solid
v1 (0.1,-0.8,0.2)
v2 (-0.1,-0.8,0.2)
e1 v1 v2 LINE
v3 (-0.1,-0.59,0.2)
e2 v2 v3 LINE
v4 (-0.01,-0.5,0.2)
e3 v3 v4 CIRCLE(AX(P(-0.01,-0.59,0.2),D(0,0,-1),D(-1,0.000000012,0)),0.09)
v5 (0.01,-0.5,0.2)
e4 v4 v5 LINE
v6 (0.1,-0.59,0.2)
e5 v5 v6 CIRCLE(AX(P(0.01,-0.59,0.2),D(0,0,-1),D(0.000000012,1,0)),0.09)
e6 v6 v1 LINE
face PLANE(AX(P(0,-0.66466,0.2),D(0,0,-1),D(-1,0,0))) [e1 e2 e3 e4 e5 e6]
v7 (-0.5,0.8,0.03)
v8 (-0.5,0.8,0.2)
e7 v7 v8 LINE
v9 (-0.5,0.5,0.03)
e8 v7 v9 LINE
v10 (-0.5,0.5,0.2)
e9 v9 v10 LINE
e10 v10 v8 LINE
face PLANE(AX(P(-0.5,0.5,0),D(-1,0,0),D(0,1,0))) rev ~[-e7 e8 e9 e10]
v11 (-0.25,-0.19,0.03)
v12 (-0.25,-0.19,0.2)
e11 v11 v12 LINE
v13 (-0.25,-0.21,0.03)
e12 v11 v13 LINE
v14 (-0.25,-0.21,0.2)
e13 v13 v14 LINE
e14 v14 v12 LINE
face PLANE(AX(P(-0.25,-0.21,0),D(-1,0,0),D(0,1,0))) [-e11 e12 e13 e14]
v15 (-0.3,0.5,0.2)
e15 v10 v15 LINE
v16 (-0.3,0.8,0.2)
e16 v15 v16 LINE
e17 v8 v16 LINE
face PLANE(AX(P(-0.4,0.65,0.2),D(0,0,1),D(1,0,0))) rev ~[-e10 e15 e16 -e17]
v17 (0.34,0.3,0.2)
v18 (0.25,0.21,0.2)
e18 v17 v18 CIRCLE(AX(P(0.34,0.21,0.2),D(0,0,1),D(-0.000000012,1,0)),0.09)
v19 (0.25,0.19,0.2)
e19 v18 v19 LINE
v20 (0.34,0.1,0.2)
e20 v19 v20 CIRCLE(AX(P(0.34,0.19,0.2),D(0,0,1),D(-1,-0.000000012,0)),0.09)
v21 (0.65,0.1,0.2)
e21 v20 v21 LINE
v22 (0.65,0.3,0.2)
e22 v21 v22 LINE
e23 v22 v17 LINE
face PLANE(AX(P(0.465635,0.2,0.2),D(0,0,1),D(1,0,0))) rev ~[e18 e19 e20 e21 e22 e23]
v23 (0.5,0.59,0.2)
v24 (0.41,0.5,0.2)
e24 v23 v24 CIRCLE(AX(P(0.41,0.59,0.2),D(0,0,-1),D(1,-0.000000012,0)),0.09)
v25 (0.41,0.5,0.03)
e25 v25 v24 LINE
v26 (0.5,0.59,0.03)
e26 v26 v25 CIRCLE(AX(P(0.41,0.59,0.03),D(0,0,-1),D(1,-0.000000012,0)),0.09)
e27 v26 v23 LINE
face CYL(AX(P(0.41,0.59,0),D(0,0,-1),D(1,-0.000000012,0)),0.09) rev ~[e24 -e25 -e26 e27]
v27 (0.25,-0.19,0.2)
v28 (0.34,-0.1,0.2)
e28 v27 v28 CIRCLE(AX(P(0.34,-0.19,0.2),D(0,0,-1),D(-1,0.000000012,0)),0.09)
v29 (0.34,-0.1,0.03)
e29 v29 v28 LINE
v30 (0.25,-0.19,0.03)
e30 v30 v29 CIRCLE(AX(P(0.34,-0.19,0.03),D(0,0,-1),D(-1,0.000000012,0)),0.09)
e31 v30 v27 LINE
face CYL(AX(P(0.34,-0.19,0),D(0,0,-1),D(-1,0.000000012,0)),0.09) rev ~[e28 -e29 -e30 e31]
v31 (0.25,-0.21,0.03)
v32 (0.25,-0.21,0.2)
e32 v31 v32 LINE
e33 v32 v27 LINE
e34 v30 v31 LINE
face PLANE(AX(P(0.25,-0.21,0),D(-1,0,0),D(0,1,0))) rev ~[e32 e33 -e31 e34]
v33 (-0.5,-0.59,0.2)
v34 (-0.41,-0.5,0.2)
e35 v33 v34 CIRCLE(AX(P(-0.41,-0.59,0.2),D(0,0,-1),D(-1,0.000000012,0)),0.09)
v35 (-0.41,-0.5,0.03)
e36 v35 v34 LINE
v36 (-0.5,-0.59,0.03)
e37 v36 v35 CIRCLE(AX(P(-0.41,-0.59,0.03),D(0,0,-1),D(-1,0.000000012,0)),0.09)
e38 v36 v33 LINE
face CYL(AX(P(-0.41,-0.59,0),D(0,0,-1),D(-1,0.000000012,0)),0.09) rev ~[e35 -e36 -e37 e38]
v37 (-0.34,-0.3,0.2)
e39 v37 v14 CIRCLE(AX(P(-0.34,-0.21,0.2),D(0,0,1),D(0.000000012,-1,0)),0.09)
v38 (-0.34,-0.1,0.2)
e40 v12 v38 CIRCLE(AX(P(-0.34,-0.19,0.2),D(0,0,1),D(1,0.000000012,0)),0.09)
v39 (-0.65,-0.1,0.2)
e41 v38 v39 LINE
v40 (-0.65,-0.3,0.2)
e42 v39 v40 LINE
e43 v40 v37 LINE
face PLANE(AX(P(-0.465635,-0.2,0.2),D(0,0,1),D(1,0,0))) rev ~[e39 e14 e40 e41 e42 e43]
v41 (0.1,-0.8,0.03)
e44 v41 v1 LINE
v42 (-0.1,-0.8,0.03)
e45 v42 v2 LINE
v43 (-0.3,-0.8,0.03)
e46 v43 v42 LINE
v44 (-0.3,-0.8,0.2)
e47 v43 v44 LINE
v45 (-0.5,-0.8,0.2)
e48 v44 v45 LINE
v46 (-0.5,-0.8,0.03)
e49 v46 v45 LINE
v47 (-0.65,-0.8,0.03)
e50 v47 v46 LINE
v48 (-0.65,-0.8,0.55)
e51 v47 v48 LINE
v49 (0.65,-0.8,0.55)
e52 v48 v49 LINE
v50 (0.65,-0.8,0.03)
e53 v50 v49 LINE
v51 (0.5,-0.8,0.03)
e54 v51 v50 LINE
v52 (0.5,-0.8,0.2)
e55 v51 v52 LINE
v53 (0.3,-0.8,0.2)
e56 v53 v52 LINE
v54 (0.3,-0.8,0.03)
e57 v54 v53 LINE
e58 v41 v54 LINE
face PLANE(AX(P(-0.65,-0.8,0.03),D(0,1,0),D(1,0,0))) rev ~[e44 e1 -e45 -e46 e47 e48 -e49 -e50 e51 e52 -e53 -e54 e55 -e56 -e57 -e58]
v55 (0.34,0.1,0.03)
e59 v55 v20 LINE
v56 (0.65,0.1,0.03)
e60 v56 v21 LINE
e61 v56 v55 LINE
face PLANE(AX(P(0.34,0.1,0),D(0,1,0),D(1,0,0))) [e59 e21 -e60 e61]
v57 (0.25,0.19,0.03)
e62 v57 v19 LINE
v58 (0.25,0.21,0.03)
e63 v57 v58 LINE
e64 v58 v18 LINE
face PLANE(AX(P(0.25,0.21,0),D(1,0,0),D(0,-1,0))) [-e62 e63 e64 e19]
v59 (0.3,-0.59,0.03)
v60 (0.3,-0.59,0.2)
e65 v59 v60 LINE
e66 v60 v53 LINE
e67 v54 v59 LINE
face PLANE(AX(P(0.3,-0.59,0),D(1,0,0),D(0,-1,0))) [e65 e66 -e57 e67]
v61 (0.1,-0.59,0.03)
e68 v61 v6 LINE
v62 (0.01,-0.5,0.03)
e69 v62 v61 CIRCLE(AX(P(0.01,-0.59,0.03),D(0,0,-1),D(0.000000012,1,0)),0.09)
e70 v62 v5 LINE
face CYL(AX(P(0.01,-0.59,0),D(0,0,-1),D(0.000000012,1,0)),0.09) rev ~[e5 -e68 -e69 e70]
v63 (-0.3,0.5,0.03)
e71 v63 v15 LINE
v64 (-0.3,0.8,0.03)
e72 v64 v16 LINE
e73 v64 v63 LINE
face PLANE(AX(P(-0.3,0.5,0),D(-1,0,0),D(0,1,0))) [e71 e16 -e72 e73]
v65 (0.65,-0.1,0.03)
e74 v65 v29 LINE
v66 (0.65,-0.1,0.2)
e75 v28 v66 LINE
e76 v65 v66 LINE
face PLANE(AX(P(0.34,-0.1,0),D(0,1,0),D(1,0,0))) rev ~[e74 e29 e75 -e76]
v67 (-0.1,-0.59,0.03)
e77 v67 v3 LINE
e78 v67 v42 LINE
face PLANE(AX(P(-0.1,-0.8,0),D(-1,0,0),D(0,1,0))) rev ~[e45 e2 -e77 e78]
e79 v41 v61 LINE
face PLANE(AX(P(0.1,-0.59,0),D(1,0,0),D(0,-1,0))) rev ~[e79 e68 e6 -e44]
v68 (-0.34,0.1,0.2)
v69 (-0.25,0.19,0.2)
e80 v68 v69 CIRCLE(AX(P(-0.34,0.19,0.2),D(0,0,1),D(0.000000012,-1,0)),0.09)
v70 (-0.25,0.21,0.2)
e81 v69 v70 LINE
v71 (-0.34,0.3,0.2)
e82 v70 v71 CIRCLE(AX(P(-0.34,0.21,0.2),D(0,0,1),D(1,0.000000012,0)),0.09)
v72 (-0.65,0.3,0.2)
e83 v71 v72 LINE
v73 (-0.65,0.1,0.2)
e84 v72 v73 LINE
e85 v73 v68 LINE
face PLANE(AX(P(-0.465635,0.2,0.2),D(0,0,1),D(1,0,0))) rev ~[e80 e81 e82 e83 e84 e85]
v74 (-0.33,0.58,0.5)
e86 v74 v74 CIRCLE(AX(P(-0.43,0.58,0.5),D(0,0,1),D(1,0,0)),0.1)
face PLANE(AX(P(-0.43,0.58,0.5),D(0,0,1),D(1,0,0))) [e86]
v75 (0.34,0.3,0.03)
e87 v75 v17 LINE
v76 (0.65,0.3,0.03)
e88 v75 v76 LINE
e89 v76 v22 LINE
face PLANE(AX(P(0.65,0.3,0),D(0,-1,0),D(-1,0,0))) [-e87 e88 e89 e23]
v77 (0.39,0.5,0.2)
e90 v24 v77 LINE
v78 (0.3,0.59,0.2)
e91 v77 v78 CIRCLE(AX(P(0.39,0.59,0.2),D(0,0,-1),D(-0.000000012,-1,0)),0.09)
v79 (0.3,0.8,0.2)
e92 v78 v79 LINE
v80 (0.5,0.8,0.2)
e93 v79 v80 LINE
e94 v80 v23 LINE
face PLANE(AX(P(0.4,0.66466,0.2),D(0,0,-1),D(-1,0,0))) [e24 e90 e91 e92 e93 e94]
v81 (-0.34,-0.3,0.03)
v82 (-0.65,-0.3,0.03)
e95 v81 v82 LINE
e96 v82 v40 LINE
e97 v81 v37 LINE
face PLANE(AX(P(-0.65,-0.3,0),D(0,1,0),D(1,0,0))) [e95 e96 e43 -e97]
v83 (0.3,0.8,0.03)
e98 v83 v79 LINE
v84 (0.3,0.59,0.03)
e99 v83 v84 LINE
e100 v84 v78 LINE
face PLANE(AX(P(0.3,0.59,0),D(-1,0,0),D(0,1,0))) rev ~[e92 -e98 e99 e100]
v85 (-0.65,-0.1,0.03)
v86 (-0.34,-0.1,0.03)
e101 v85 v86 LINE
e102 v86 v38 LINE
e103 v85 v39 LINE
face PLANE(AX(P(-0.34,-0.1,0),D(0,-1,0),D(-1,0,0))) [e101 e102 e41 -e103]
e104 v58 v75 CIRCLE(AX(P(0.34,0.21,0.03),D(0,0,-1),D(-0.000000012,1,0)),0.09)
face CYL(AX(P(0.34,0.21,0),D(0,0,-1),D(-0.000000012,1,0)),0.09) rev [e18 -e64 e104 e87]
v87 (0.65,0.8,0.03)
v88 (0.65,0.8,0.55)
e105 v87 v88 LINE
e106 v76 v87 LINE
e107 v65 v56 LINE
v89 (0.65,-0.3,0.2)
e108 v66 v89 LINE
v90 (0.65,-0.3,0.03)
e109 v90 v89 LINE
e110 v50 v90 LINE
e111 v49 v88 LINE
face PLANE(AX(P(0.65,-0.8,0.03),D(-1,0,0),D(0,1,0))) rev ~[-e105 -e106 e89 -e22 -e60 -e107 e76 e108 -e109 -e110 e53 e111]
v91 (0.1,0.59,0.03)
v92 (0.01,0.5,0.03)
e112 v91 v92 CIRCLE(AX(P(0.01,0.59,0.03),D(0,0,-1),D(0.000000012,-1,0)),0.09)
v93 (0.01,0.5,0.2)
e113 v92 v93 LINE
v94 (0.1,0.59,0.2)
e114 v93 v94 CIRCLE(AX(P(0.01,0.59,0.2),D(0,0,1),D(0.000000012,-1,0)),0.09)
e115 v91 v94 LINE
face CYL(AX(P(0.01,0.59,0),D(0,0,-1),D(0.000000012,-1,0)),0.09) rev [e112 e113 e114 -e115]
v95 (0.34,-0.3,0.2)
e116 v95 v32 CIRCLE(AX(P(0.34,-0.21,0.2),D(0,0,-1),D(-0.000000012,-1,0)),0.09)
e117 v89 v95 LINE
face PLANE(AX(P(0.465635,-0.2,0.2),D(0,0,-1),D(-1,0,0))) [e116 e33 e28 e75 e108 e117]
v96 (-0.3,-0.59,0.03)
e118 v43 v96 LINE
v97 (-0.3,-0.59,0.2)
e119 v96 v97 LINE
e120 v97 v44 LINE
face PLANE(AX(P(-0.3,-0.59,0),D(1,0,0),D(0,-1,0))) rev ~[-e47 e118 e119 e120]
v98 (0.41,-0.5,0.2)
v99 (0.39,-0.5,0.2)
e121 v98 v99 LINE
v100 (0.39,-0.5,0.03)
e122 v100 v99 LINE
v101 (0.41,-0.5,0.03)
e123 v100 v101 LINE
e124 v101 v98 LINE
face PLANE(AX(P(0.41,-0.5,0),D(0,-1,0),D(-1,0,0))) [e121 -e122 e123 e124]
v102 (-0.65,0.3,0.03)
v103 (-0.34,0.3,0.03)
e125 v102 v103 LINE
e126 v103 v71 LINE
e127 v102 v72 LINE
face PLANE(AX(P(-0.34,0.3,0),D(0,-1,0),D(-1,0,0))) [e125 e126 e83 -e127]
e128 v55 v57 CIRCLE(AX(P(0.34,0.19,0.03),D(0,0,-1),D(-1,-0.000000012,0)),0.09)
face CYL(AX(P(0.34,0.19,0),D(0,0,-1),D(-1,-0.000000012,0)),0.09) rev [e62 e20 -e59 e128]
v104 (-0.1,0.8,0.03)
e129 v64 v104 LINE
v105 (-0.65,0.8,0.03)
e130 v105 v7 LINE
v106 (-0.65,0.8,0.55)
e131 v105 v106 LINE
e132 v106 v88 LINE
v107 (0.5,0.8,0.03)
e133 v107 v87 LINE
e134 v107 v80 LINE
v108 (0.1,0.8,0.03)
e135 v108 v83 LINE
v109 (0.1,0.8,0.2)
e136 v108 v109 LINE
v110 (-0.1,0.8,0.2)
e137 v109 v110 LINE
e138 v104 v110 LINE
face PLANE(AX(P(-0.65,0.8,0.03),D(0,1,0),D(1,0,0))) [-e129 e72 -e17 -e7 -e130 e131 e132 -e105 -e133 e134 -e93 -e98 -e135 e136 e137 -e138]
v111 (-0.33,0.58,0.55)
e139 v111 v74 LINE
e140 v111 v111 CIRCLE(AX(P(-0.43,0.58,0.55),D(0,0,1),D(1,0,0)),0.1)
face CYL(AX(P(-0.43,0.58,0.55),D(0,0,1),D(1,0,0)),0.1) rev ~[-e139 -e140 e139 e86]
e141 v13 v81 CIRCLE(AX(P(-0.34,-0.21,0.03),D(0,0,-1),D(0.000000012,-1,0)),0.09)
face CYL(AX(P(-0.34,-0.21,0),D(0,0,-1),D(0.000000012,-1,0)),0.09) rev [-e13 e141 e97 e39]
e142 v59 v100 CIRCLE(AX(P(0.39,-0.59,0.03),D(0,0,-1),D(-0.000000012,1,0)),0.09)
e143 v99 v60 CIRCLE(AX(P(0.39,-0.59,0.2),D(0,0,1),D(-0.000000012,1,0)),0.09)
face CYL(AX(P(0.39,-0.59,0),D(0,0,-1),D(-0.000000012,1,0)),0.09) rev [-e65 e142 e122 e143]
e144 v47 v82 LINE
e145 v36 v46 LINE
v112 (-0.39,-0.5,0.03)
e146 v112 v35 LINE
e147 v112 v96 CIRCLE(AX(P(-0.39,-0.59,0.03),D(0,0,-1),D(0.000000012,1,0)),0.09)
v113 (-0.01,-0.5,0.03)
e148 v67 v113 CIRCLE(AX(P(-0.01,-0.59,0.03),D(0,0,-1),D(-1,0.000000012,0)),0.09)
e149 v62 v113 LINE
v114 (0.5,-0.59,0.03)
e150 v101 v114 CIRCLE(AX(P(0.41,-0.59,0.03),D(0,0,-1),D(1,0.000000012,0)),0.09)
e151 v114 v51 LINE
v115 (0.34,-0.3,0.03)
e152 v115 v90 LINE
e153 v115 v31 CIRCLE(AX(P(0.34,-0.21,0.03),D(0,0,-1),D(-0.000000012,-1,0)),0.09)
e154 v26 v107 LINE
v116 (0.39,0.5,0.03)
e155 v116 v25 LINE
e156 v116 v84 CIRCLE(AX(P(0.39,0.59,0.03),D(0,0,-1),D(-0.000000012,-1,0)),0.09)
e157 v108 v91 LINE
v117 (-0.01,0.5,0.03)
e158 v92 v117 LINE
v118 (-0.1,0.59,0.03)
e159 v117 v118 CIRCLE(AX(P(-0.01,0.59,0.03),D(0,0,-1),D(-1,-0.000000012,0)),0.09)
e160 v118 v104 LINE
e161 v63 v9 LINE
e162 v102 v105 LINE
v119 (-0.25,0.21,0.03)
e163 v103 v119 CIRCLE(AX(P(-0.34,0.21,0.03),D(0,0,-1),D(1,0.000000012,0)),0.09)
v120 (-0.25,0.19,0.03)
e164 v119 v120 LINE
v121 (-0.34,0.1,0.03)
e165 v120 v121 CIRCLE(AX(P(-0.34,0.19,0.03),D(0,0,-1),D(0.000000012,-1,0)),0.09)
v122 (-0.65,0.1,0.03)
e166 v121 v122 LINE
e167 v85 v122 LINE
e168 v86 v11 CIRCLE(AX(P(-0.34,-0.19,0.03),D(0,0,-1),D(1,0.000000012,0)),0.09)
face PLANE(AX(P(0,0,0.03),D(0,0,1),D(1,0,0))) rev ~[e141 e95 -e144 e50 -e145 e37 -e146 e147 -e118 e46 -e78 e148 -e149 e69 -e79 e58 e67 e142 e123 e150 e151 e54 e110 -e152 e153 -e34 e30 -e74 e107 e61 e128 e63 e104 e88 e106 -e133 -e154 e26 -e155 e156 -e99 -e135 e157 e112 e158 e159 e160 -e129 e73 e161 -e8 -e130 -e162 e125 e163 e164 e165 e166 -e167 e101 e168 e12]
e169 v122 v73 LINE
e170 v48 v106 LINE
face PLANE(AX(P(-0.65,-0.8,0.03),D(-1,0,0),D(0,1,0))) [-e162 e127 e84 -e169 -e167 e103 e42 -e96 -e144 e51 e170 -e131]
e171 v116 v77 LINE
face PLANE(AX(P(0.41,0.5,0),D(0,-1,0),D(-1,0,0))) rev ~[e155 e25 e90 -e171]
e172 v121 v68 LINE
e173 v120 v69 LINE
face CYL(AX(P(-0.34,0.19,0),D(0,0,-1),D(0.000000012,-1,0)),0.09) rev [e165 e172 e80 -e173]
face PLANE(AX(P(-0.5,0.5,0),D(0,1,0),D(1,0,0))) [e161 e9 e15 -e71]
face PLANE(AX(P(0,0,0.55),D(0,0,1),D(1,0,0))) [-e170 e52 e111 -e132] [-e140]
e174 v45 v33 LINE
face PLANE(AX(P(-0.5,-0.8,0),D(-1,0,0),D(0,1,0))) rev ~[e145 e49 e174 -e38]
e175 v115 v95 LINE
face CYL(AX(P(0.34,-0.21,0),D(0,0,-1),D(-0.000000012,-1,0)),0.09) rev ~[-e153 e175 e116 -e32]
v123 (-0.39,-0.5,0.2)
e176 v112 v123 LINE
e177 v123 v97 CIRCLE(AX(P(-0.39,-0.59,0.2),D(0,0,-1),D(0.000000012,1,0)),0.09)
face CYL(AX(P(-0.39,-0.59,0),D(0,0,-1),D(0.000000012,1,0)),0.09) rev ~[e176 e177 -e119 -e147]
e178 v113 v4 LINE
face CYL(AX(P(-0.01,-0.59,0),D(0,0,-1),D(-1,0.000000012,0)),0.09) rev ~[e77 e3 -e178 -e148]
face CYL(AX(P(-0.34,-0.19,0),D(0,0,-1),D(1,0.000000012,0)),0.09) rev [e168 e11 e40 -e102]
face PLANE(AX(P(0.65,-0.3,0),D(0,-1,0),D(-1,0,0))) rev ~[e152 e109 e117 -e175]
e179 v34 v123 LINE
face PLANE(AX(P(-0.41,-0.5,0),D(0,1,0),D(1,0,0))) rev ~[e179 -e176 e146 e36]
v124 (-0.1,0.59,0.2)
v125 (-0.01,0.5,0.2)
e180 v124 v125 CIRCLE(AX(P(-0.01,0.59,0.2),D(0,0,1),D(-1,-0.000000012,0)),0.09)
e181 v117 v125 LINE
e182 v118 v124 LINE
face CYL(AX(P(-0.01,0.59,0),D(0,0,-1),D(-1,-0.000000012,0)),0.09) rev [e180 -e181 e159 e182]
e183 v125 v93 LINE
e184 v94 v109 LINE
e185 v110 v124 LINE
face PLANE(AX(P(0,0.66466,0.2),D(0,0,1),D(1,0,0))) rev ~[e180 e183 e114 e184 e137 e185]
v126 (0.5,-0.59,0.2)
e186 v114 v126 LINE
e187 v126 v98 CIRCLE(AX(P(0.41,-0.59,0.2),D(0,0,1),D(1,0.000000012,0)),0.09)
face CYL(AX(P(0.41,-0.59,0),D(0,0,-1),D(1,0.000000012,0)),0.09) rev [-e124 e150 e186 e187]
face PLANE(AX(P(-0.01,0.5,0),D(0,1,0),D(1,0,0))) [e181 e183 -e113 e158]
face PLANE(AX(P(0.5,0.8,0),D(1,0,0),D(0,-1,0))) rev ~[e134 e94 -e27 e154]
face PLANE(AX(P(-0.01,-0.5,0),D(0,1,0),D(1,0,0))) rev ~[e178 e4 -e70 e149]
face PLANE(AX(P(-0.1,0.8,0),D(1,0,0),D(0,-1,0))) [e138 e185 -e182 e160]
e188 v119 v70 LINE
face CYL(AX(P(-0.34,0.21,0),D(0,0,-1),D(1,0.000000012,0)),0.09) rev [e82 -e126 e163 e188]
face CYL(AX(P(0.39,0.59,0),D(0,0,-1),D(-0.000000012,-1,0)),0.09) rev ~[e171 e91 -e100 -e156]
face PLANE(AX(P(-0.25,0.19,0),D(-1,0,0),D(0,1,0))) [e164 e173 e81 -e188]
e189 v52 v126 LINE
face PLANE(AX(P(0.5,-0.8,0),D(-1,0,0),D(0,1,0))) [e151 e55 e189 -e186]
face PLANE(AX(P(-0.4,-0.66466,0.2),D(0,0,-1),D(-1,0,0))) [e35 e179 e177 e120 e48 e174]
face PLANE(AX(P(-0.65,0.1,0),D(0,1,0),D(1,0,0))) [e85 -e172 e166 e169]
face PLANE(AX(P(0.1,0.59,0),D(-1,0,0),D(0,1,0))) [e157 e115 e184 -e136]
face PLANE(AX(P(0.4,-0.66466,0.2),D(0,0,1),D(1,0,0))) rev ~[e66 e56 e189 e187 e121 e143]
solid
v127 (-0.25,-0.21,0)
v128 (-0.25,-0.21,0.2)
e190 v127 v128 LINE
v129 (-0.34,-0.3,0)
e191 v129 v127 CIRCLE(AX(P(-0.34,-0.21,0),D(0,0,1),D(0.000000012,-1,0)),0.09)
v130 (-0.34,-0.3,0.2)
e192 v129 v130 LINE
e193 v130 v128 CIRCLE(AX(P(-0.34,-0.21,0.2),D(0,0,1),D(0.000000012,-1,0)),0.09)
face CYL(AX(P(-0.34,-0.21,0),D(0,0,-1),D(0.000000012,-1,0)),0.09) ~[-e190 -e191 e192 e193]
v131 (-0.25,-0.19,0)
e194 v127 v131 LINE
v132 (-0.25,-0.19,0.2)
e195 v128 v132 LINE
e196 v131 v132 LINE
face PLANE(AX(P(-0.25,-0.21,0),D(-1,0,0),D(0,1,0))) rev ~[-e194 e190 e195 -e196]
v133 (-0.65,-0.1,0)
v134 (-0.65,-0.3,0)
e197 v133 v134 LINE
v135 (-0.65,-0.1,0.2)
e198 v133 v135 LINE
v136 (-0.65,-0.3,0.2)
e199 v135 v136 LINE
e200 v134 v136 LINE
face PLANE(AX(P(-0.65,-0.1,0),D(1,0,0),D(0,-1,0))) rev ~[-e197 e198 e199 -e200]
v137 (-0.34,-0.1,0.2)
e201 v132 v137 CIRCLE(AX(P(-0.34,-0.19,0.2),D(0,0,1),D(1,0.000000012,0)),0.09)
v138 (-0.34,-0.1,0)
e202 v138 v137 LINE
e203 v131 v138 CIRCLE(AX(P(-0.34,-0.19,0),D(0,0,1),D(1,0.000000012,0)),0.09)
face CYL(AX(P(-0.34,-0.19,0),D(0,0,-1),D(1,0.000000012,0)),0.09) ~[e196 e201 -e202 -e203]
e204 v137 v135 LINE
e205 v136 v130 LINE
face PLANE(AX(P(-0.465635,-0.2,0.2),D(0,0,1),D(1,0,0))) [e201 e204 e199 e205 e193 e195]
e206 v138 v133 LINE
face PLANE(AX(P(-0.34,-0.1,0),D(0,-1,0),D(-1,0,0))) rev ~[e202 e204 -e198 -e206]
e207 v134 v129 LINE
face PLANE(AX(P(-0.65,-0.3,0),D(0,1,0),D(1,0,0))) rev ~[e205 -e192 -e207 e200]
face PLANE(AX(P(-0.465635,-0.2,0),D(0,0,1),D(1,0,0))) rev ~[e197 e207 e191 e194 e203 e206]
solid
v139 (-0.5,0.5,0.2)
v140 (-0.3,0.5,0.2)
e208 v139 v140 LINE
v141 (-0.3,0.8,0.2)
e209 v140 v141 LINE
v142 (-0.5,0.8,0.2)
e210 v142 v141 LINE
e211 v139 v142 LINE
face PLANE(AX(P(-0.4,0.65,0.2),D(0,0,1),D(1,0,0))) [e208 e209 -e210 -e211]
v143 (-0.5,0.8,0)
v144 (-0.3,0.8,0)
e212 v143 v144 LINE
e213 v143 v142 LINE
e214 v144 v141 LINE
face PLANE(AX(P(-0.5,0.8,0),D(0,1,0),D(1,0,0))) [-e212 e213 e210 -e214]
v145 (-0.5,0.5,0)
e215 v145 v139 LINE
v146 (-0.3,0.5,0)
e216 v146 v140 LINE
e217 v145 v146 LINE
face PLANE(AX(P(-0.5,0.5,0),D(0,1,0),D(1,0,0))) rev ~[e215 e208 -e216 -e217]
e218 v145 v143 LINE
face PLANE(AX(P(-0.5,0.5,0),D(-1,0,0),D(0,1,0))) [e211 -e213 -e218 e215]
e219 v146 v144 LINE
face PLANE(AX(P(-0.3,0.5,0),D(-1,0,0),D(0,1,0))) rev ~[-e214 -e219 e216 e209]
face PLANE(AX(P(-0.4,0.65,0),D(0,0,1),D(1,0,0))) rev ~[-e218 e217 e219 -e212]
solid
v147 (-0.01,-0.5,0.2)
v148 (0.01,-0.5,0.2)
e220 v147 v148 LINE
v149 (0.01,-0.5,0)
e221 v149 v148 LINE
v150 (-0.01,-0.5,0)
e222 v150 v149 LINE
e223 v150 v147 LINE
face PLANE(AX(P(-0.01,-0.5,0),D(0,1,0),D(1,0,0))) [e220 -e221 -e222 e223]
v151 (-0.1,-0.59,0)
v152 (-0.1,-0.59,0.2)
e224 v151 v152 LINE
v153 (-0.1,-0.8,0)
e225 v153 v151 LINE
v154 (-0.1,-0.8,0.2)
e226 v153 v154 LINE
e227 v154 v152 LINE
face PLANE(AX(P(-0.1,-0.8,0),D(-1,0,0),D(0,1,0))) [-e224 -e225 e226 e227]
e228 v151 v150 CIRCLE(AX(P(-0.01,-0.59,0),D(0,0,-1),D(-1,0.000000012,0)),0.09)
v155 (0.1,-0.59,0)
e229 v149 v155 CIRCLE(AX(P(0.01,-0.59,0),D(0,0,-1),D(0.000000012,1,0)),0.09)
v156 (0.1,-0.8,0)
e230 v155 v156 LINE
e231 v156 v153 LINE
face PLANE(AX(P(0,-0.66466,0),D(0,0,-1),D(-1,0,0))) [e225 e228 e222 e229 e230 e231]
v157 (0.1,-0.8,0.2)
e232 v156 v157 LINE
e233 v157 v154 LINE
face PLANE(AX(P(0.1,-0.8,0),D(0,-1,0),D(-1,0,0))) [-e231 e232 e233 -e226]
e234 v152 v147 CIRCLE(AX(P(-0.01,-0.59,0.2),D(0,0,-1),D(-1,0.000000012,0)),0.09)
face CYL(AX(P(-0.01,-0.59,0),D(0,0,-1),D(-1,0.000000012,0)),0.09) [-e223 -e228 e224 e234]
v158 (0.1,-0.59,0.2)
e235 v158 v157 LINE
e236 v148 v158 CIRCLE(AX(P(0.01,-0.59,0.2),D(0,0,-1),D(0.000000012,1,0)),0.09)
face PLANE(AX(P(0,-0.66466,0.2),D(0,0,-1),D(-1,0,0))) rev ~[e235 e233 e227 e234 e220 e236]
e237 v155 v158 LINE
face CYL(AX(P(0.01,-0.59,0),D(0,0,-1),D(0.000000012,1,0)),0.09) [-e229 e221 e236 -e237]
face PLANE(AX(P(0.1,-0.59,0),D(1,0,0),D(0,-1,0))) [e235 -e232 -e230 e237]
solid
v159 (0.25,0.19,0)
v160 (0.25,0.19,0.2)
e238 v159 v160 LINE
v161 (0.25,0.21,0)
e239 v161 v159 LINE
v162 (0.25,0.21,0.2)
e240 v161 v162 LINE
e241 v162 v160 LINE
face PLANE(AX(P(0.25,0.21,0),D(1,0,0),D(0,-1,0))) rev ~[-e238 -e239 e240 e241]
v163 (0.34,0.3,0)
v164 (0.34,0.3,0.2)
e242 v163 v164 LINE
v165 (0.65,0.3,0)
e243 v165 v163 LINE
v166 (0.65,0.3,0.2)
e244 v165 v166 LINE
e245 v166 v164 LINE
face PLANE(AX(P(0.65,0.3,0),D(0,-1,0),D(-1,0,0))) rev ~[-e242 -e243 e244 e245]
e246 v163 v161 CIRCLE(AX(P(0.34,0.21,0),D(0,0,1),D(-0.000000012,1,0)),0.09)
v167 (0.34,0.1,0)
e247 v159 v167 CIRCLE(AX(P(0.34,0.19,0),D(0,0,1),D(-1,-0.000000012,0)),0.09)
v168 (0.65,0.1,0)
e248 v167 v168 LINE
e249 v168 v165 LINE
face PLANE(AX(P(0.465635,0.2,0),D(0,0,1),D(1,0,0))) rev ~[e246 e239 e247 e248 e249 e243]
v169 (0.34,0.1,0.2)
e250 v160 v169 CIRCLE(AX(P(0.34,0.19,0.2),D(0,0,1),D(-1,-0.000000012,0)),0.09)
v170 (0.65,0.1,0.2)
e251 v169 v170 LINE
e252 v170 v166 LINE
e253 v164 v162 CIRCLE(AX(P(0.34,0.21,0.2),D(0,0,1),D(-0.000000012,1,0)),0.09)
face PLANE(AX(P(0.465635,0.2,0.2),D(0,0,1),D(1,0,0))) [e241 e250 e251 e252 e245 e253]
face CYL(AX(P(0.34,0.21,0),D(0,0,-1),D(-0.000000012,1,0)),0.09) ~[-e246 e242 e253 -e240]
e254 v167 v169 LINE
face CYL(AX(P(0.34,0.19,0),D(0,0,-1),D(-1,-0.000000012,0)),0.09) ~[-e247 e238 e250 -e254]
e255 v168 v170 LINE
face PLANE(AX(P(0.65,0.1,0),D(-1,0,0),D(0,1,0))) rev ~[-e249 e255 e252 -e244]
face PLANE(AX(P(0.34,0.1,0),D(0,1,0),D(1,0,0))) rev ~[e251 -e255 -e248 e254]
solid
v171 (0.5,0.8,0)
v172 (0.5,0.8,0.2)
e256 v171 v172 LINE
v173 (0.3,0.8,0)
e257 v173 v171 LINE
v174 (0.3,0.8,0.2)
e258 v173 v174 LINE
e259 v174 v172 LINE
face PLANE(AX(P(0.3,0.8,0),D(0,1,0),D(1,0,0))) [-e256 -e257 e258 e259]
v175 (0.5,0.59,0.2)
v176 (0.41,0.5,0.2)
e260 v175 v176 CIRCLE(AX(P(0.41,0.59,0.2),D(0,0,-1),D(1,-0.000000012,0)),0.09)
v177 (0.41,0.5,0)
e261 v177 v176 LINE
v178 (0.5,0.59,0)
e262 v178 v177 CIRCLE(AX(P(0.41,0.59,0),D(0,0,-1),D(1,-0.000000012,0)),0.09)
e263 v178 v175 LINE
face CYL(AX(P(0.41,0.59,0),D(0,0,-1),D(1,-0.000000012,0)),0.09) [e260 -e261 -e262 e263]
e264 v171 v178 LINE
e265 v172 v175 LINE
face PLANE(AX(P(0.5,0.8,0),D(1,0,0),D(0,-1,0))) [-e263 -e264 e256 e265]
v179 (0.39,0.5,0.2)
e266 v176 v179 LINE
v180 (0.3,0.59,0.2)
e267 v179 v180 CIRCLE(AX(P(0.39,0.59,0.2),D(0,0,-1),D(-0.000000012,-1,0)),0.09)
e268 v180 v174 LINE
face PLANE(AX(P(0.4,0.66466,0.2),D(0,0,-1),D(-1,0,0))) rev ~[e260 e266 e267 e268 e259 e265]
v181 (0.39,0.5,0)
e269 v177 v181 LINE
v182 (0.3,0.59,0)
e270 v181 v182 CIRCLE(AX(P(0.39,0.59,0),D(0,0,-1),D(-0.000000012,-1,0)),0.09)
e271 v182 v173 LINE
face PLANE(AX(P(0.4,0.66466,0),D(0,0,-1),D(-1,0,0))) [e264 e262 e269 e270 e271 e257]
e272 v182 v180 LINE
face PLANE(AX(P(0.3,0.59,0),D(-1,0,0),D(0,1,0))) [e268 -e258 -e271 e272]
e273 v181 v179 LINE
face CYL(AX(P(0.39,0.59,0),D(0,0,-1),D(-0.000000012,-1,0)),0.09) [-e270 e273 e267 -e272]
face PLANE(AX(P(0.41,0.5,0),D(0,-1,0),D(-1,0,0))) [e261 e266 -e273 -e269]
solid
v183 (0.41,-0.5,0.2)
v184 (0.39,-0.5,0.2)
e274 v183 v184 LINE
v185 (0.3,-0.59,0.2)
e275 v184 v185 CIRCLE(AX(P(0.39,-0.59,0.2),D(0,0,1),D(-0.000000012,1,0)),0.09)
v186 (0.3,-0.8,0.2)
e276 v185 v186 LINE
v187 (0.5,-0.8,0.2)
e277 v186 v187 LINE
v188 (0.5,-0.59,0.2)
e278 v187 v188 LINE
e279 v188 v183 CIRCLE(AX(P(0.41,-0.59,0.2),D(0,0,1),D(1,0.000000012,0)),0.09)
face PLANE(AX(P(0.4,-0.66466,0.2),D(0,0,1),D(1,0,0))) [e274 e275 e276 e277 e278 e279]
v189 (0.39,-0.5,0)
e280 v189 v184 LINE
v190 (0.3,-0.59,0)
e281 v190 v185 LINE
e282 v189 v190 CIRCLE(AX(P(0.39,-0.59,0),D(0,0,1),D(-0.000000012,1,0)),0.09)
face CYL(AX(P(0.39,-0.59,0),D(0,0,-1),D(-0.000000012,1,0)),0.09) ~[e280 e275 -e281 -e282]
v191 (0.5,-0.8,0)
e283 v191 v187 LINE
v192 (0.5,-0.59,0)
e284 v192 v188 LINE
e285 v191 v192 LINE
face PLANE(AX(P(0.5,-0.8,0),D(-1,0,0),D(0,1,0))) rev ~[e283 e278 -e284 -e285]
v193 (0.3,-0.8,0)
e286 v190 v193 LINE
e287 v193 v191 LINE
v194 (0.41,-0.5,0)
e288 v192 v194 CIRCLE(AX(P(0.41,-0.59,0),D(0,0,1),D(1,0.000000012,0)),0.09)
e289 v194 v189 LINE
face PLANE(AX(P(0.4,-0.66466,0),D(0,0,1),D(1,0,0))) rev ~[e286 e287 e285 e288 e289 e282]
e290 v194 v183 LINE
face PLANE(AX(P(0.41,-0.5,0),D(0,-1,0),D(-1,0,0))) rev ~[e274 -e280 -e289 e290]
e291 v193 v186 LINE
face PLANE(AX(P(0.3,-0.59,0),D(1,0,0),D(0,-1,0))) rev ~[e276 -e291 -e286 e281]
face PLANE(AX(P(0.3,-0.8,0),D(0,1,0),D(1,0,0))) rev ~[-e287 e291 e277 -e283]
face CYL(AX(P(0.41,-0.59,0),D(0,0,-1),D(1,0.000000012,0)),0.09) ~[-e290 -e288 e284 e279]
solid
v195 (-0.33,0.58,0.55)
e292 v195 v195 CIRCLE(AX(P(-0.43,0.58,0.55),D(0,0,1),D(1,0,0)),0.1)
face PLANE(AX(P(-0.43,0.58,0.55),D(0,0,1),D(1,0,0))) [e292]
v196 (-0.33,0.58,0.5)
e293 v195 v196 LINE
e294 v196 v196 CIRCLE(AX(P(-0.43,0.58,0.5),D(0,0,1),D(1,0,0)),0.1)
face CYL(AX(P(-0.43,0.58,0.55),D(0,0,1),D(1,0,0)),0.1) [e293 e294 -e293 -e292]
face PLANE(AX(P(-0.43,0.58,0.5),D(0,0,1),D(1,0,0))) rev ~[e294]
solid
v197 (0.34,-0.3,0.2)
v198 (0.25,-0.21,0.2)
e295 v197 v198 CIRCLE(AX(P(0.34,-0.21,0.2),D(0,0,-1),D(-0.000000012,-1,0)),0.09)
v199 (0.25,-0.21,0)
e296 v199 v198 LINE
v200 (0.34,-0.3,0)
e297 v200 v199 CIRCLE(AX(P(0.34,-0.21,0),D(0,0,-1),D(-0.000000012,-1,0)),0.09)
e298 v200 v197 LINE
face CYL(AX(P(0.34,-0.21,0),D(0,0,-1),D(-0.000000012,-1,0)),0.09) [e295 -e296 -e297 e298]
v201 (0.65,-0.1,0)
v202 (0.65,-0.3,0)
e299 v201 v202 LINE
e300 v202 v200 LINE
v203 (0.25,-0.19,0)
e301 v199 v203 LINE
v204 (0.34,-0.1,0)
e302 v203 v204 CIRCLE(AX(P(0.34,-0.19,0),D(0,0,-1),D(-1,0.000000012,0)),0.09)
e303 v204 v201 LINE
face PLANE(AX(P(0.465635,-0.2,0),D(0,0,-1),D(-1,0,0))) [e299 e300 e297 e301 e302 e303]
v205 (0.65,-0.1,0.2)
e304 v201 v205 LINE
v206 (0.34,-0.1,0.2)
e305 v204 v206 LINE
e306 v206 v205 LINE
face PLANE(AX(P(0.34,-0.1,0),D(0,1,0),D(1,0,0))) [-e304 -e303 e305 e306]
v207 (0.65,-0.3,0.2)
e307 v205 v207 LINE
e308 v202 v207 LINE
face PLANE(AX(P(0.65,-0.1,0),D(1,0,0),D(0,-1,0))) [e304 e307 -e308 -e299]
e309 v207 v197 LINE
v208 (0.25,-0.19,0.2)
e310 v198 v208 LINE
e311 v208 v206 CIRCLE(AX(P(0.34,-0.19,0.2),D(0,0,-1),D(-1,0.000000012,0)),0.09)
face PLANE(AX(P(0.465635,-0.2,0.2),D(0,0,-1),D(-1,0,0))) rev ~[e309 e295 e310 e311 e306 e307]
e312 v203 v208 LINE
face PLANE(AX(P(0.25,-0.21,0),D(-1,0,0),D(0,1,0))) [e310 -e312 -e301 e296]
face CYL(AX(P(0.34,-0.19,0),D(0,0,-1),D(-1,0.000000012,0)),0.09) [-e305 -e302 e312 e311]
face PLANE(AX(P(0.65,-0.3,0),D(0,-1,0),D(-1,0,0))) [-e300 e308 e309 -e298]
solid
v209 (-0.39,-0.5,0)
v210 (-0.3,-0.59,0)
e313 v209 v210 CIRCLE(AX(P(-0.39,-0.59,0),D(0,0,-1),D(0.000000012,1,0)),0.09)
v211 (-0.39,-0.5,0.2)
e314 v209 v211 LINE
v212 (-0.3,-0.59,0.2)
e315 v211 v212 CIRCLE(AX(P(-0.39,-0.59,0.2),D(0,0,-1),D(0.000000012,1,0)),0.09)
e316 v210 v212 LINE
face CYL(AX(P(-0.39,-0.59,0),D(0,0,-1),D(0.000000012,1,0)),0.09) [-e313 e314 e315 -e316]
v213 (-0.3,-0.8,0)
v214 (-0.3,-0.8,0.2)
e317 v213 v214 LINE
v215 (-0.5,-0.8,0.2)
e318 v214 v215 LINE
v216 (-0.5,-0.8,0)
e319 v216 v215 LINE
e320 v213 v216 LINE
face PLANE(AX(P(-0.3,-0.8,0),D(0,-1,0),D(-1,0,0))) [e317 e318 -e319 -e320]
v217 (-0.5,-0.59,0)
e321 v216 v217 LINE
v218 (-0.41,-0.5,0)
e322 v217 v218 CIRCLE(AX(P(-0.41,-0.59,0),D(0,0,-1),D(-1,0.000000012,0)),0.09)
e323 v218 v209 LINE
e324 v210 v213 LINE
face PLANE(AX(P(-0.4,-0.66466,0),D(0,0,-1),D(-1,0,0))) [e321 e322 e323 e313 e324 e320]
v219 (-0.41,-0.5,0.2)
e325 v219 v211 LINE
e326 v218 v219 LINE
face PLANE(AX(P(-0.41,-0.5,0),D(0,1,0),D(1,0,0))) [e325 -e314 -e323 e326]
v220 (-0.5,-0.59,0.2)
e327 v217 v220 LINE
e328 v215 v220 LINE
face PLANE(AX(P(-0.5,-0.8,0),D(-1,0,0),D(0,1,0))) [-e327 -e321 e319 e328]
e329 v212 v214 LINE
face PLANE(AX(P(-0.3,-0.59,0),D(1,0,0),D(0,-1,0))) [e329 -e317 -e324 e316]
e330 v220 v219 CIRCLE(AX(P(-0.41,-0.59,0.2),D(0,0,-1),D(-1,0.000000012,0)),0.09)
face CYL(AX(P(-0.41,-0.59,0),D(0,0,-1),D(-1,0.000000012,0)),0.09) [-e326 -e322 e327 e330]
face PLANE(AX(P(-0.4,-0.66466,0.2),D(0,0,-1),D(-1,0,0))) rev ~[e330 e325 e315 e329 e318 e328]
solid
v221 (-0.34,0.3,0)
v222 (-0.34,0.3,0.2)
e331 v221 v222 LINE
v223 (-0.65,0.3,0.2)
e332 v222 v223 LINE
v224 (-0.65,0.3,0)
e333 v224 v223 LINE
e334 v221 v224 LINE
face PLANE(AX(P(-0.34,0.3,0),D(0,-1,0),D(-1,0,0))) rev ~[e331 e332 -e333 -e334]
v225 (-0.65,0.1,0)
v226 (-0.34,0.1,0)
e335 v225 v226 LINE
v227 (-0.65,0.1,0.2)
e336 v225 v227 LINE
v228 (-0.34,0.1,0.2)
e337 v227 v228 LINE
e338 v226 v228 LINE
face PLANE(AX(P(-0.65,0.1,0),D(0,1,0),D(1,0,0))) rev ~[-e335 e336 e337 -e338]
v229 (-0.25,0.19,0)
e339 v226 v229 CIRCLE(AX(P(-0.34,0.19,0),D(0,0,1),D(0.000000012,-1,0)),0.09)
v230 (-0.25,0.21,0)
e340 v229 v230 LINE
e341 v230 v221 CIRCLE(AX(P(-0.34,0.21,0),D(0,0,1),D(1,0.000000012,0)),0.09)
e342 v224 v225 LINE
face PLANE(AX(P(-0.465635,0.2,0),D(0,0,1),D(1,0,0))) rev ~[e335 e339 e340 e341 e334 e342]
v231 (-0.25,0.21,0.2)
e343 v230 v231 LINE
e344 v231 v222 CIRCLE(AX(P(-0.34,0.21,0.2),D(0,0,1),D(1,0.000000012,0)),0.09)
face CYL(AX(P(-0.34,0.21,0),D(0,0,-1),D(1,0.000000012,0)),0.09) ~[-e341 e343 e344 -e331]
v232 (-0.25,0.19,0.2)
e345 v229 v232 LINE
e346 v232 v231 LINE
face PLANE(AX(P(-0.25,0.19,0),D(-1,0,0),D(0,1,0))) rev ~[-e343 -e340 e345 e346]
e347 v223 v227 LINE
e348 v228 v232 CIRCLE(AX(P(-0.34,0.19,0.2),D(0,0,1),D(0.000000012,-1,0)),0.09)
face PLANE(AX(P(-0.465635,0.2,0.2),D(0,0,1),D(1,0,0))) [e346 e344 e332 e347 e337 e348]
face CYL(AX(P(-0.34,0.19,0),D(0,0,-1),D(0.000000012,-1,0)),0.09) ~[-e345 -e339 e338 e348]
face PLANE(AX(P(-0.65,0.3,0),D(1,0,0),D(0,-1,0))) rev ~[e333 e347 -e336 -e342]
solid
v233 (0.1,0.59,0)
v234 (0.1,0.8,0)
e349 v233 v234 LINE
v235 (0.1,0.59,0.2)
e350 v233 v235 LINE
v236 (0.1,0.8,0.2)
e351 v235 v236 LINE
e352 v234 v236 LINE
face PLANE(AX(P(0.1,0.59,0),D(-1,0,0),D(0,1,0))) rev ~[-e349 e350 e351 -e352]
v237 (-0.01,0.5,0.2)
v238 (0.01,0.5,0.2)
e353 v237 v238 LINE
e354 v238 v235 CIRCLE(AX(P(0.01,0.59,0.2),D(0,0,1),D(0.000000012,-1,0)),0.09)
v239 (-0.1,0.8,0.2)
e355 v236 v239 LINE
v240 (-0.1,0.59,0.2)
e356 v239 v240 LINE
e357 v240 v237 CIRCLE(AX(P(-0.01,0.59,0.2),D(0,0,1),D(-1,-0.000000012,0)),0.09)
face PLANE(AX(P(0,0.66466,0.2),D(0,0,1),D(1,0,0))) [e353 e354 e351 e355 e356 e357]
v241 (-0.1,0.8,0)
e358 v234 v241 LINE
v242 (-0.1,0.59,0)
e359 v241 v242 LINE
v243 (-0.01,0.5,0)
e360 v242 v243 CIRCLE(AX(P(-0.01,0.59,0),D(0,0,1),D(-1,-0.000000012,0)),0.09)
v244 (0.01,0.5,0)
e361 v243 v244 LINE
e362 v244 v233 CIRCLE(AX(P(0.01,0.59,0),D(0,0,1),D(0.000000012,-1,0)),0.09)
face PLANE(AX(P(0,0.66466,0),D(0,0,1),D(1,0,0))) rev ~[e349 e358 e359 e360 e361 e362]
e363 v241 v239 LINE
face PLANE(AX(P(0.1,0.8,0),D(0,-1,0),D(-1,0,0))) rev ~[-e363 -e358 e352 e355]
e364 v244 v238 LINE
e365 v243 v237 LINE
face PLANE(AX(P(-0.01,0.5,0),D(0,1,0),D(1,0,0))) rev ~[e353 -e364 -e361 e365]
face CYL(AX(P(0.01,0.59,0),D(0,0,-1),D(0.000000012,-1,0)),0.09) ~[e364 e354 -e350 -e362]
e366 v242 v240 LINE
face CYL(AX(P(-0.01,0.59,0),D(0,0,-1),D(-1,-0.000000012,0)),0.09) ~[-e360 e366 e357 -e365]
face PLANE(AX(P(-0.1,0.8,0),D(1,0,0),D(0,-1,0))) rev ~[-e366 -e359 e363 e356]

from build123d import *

# Parameters (mm, degrees)
EXTRUDE_START       = 0.03
SKETCH_1_W          = 1.3
SKETCH_1_H          = 1.6
EXTRUDE_1_DEPTH     = 0.52
SKETCH_2_R          = 0.1
CUT_EXTRUDE_1_DEPTH = 0.05
SKETCH_2_2_R        = 0.1
EXTRUDE_1_2_DEPTH   = 0.05
SKETCH_3_W          = 0.2
SKETCH_3_H          = 0.3
CUT_EXTRUDE_2_DEPTH = 0.2
EXTRUDE_2_DEPTH     = 0.2
EXTRUDE_2_2_DEPTH   = 0.2
EXTRUDE_2_3_DEPTH   = 0.2
EXTRUDE_2_4_DEPTH   = 0.2
EXTRUDE_2_5_DEPTH   = 0.2
EXTRUDE_2_6_DEPTH   = 0.2
EXTRUDE_2_7_DEPTH   = 0.2
EXTRUDE_2_8_DEPTH   = 0.2
EXTRUDE_2_9_DEPTH   = 0.2
SKETCH_3_2_W        = 0.2
SKETCH_3_2_H        = 0.3
EXTRUDE_2_10_DEPTH  = 0.2


with BuildPart() as part:
    # Эскиз1 → Extrude 1 (new body)
    with BuildSketch(Plane.XY.offset(EXTRUDE_START)):
        Rectangle(SKETCH_1_W, SKETCH_1_H)
    extrude(amount=EXTRUDE_1_DEPTH)

    # Эскиз2 → Вырез-Вытянуть1 (cut)
    with BuildSketch(Plane.XY.offset(0.55)):
        with Locations((-0.43, 0.58)):
            Circle(SKETCH_2_R)
    extrude(amount=-CUT_EXTRUDE_1_DEPTH, mode=Mode.SUBTRACT)

    # Эскиз3 → Вырез-Вытянуть2 (cut)
    with BuildSketch(Plane.XY):
        with BuildLine():
            Line((-0.01, 0.5), (0.01, 0.5))
            ThreePointArc((0.01, 0.5), (0.07363961, 0.52636039), (0.1, 0.59))
            Line((0.1, 0.59), (0.1, 0.8))
            Line((0.1, 0.8), (-0.1, 0.8))
            Line((-0.1, 0.8), (-0.1, 0.59))
            ThreePointArc((-0.1, 0.59), (-0.07363961, 0.52636039), (-0.01, 0.5))
        make_face()
        with BuildLine():
            Line((-0.01, -0.5), (0.01, -0.5))
            ThreePointArc((0.01, -0.5), (0.07363961, -0.52636039), (0.1, -0.59))
            Line((0.1, -0.59), (0.1, -0.8))
            Line((0.1, -0.8), (-0.1, -0.8))
            Line((-0.1, -0.8), (-0.1, -0.59))
            ThreePointArc((-0.1, -0.59), (-0.07363961, -0.52636039), (-0.01, -0.5))
        make_face()
        with BuildLine():
            Line((-0.41, -0.5), (-0.39, -0.5))
            ThreePointArc((-0.39, -0.5), (-0.32636039, -0.52636039), (-0.3, -0.59))
            Line((-0.3, -0.59), (-0.3, -0.8))
            Line((-0.3, -0.8), (-0.5, -0.8))
            Line((-0.5, -0.8), (-0.5, -0.59))
            ThreePointArc((-0.5, -0.59), (-0.47363961, -0.52636039), (-0.41, -0.5))
        make_face()
        with BuildLine():
            Line((0.3, -0.8), (0.5, -0.8))
            Line((0.5, -0.8), (0.5, -0.59))
            ThreePointArc((0.5, -0.59), (0.47363961, -0.52636039), (0.41, -0.5))
            Line((0.41, -0.5), (0.39, -0.5))
            ThreePointArc((0.39, -0.5), (0.32636039, -0.52636039), (0.3, -0.59))
            Line((0.3, -0.59), (0.3, -0.8))
        make_face()
        with BuildLine():
            Line((0.65, -0.1), (0.65, -0.3))
            Line((0.65, -0.3), (0.34, -0.3))
            ThreePointArc((0.34, -0.3), (0.27636039, -0.27363961), (0.25, -0.21))
            Line((0.25, -0.21), (0.25, -0.19))
            ThreePointArc((0.25, -0.19), (0.27636039, -0.12636039), (0.34, -0.1))
            Line((0.34, -0.1), (0.65, -0.1))
        make_face()
        with BuildLine():
            Line((0.34, 0.1), (0.65, 0.1))
            Line((0.65, 0.1), (0.65, 0.3))
            Line((0.65, 0.3), (0.34, 0.3))
            ThreePointArc((0.34, 0.3), (0.27636039, 0.27363961), (0.25, 0.21))
            Line((0.25, 0.21), (0.25, 0.19))
            ThreePointArc((0.25, 0.19), (0.27636039, 0.12636039), (0.34, 0.1))
        make_face()
        with BuildLine():
            Line((-0.65, -0.1), (-0.65, -0.3))
            Line((-0.65, -0.3), (-0.34, -0.3))
            ThreePointArc((-0.34, -0.3), (-0.27636039, -0.27363961), (-0.25, -0.21))
            Line((-0.25, -0.21), (-0.25, -0.19))
            ThreePointArc((-0.25, -0.19), (-0.27636039, -0.12636039), (-0.34, -0.1))
            Line((-0.34, -0.1), (-0.65, -0.1))
        make_face()
        with BuildLine():
            Line((-0.25, 0.19), (-0.25, 0.21))
            ThreePointArc((-0.25, 0.21), (-0.27636039, 0.27363961), (-0.34, 0.3))
            Line((-0.34, 0.3), (-0.65, 0.3))
            Line((-0.65, 0.3), (-0.65, 0.1))
            Line((-0.65, 0.1), (-0.34, 0.1))
            ThreePointArc((-0.34, 0.1), (-0.27636039, 0.12636039), (-0.25, 0.19))
        make_face()
        with BuildLine():
            Line((0.3, 0.59), (0.3, 0.8))
            Line((0.3, 0.8), (0.5, 0.8))
            Line((0.5, 0.8), (0.5, 0.59))
            ThreePointArc((0.5, 0.59), (0.47363961, 0.52636039), (0.41, 0.5))
            Line((0.41, 0.5), (0.39, 0.5))
            ThreePointArc((0.39, 0.5), (0.32636039, 0.52636039), (0.3, 0.59))
        make_face()
        with Locations((-0.4, 0.65)):
            Rectangle(SKETCH_3_W, SKETCH_3_H)
    extrude(amount=CUT_EXTRUDE_2_DEPTH, mode=Mode.SUBTRACT)


with BuildPart() as body_2:
    # Эскиз2<2> → Extrude 1 2 (new body)
    with BuildSketch(Plane.XY.offset(0.55)):
        with Locations((-0.43, 0.58)):
            Circle(SKETCH_2_2_R)
    extrude(amount=-EXTRUDE_1_2_DEPTH)


with BuildPart() as body_3:
    # Эскиз3<2> → Бобышка-Вытянуть2 (new body)
    with BuildSketch(Plane.XY):
        with BuildLine():
            Line((-0.01, 0.5), (0.01, 0.5))
            ThreePointArc((0.01, 0.5), (0.07363961, 0.52636039), (0.1, 0.59))
            Line((0.1, 0.59), (0.1, 0.8))
            Line((0.1, 0.8), (-0.1, 0.8))
            Line((-0.1, 0.8), (-0.1, 0.59))
            ThreePointArc((-0.1, 0.59), (-0.07363961, 0.52636039), (-0.01, 0.5))
        make_face()
    extrude(amount=EXTRUDE_2_DEPTH)


with BuildPart() as body_4:
    # Эскиз3<2> → Extrude 2 2 (new body)
    with BuildSketch(Plane.XY):
        with BuildLine():
            Line((-0.01, -0.5), (0.01, -0.5))
            ThreePointArc((0.01, -0.5), (0.07363961, -0.52636039), (0.1, -0.59))
            Line((0.1, -0.59), (0.1, -0.8))
            Line((0.1, -0.8), (-0.1, -0.8))
            Line((-0.1, -0.8), (-0.1, -0.59))
            ThreePointArc((-0.1, -0.59), (-0.07363961, -0.52636039), (-0.01, -0.5))
        make_face()
    extrude(amount=EXTRUDE_2_2_DEPTH)


with BuildPart() as body_5:
    # Эскиз3<2> → Extrude 2 3 (new body)
    with BuildSketch(Plane.XY):
        with BuildLine():
            Line((-0.41, -0.5), (-0.39, -0.5))
            ThreePointArc((-0.39, -0.5), (-0.32636039, -0.52636039), (-0.3, -0.59))
            Line((-0.3, -0.59), (-0.3, -0.8))
            Line((-0.3, -0.8), (-0.5, -0.8))
            Line((-0.5, -0.8), (-0.5, -0.59))
            ThreePointArc((-0.5, -0.59), (-0.47363961, -0.52636039), (-0.41, -0.5))
        make_face()
    extrude(amount=EXTRUDE_2_3_DEPTH)


with BuildPart() as body_6:
    # Эскиз3<2> → Extrude 2 4 (new body)
    with BuildSketch(Plane.XY):
        with BuildLine():
            Line((0.3, -0.8), (0.5, -0.8))
            Line((0.5, -0.8), (0.5, -0.59))
            ThreePointArc((0.5, -0.59), (0.47363961, -0.52636039), (0.41, -0.5))
            Line((0.41, -0.5), (0.39, -0.5))
            ThreePointArc((0.39, -0.5), (0.32636039, -0.52636039), (0.3, -0.59))
            Line((0.3, -0.59), (0.3, -0.8))
        make_face()
    extrude(amount=EXTRUDE_2_4_DEPTH)


with BuildPart() as body_7:
    # Эскиз3<2> → Extrude 2 5 (new body)
    with BuildSketch(Plane.XY):
        with BuildLine():
            Line((0.65, -0.1), (0.65, -0.3))
            Line((0.65, -0.3), (0.34, -0.3))
            ThreePointArc((0.34, -0.3), (0.27636039, -0.27363961), (0.25, -0.21))
            Line((0.25, -0.21), (0.25, -0.19))
            ThreePointArc((0.25, -0.19), (0.27636039, -0.12636039), (0.34, -0.1))
            Line((0.34, -0.1), (0.65, -0.1))
        make_face()
    extrude(amount=EXTRUDE_2_5_DEPTH)


with BuildPart() as body_8:
    # Эскиз3<2> → Extrude 2 6 (new body)
    with BuildSketch(Plane.XY):
        with BuildLine():
            Line((0.34, 0.1), (0.65, 0.1))
            Line((0.65, 0.1), (0.65, 0.3))
            Line((0.65, 0.3), (0.34, 0.3))
            ThreePointArc((0.34, 0.3), (0.27636039, 0.27363961), (0.25, 0.21))
            Line((0.25, 0.21), (0.25, 0.19))
            ThreePointArc((0.25, 0.19), (0.27636039, 0.12636039), (0.34, 0.1))
        make_face()
    extrude(amount=EXTRUDE_2_6_DEPTH)


with BuildPart() as body_9:
    # Эскиз3<2> → Extrude 2 7 (new body)
    with BuildSketch(Plane.XY):
        with BuildLine():
            Line((-0.65, -0.1), (-0.65, -0.3))
            Line((-0.65, -0.3), (-0.34, -0.3))
            ThreePointArc((-0.34, -0.3), (-0.27636039, -0.27363961), (-0.25, -0.21))
            Line((-0.25, -0.21), (-0.25, -0.19))
            ThreePointArc((-0.25, -0.19), (-0.27636039, -0.12636039), (-0.34, -0.1))
            Line((-0.34, -0.1), (-0.65, -0.1))
        make_face()
    extrude(amount=EXTRUDE_2_7_DEPTH)


with BuildPart() as body_10:
    # Эскиз3<2> → Extrude 2 8 (new body)
    with BuildSketch(Plane.XY):
        with BuildLine():
            Line((-0.25, 0.19), (-0.25, 0.21))
            ThreePointArc((-0.25, 0.21), (-0.27636039, 0.27363961), (-0.34, 0.3))
            Line((-0.34, 0.3), (-0.65, 0.3))
            Line((-0.65, 0.3), (-0.65, 0.1))
            Line((-0.65, 0.1), (-0.34, 0.1))
            ThreePointArc((-0.34, 0.1), (-0.27636039, 0.12636039), (-0.25, 0.19))
        make_face()
    extrude(amount=EXTRUDE_2_8_DEPTH)


with BuildPart() as body_11:
    # Эскиз3<2> → Extrude 2 9 (new body)
    with BuildSketch(Plane.XY):
        with BuildLine():
            Line((0.3, 0.59), (0.3, 0.8))
            Line((0.3, 0.8), (0.5, 0.8))
            Line((0.5, 0.8), (0.5, 0.59))
            ThreePointArc((0.5, 0.59), (0.47363961, 0.52636039), (0.41, 0.5))
            Line((0.41, 0.5), (0.39, 0.5))
            ThreePointArc((0.39, 0.5), (0.32636039, 0.52636039), (0.3, 0.59))
        make_face()
    extrude(amount=EXTRUDE_2_9_DEPTH)


with BuildPart() as body_12:
    # Эскиз3<2> → Extrude 2 10 (new body)
    with BuildSketch(Plane.XY):
        with Locations((-0.4, 0.65)):
            Rectangle(SKETCH_3_2_W, SKETCH_3_2_H)
    extrude(amount=EXTRUDE_2_10_DEPTH)


solid = Compound([part.part, body_2.part, body_3.part, body_4.part, body_5.part, body_6.part, body_7.part, body_8.part, body_9.part, body_10.part, body_11.part, body_12.part])
